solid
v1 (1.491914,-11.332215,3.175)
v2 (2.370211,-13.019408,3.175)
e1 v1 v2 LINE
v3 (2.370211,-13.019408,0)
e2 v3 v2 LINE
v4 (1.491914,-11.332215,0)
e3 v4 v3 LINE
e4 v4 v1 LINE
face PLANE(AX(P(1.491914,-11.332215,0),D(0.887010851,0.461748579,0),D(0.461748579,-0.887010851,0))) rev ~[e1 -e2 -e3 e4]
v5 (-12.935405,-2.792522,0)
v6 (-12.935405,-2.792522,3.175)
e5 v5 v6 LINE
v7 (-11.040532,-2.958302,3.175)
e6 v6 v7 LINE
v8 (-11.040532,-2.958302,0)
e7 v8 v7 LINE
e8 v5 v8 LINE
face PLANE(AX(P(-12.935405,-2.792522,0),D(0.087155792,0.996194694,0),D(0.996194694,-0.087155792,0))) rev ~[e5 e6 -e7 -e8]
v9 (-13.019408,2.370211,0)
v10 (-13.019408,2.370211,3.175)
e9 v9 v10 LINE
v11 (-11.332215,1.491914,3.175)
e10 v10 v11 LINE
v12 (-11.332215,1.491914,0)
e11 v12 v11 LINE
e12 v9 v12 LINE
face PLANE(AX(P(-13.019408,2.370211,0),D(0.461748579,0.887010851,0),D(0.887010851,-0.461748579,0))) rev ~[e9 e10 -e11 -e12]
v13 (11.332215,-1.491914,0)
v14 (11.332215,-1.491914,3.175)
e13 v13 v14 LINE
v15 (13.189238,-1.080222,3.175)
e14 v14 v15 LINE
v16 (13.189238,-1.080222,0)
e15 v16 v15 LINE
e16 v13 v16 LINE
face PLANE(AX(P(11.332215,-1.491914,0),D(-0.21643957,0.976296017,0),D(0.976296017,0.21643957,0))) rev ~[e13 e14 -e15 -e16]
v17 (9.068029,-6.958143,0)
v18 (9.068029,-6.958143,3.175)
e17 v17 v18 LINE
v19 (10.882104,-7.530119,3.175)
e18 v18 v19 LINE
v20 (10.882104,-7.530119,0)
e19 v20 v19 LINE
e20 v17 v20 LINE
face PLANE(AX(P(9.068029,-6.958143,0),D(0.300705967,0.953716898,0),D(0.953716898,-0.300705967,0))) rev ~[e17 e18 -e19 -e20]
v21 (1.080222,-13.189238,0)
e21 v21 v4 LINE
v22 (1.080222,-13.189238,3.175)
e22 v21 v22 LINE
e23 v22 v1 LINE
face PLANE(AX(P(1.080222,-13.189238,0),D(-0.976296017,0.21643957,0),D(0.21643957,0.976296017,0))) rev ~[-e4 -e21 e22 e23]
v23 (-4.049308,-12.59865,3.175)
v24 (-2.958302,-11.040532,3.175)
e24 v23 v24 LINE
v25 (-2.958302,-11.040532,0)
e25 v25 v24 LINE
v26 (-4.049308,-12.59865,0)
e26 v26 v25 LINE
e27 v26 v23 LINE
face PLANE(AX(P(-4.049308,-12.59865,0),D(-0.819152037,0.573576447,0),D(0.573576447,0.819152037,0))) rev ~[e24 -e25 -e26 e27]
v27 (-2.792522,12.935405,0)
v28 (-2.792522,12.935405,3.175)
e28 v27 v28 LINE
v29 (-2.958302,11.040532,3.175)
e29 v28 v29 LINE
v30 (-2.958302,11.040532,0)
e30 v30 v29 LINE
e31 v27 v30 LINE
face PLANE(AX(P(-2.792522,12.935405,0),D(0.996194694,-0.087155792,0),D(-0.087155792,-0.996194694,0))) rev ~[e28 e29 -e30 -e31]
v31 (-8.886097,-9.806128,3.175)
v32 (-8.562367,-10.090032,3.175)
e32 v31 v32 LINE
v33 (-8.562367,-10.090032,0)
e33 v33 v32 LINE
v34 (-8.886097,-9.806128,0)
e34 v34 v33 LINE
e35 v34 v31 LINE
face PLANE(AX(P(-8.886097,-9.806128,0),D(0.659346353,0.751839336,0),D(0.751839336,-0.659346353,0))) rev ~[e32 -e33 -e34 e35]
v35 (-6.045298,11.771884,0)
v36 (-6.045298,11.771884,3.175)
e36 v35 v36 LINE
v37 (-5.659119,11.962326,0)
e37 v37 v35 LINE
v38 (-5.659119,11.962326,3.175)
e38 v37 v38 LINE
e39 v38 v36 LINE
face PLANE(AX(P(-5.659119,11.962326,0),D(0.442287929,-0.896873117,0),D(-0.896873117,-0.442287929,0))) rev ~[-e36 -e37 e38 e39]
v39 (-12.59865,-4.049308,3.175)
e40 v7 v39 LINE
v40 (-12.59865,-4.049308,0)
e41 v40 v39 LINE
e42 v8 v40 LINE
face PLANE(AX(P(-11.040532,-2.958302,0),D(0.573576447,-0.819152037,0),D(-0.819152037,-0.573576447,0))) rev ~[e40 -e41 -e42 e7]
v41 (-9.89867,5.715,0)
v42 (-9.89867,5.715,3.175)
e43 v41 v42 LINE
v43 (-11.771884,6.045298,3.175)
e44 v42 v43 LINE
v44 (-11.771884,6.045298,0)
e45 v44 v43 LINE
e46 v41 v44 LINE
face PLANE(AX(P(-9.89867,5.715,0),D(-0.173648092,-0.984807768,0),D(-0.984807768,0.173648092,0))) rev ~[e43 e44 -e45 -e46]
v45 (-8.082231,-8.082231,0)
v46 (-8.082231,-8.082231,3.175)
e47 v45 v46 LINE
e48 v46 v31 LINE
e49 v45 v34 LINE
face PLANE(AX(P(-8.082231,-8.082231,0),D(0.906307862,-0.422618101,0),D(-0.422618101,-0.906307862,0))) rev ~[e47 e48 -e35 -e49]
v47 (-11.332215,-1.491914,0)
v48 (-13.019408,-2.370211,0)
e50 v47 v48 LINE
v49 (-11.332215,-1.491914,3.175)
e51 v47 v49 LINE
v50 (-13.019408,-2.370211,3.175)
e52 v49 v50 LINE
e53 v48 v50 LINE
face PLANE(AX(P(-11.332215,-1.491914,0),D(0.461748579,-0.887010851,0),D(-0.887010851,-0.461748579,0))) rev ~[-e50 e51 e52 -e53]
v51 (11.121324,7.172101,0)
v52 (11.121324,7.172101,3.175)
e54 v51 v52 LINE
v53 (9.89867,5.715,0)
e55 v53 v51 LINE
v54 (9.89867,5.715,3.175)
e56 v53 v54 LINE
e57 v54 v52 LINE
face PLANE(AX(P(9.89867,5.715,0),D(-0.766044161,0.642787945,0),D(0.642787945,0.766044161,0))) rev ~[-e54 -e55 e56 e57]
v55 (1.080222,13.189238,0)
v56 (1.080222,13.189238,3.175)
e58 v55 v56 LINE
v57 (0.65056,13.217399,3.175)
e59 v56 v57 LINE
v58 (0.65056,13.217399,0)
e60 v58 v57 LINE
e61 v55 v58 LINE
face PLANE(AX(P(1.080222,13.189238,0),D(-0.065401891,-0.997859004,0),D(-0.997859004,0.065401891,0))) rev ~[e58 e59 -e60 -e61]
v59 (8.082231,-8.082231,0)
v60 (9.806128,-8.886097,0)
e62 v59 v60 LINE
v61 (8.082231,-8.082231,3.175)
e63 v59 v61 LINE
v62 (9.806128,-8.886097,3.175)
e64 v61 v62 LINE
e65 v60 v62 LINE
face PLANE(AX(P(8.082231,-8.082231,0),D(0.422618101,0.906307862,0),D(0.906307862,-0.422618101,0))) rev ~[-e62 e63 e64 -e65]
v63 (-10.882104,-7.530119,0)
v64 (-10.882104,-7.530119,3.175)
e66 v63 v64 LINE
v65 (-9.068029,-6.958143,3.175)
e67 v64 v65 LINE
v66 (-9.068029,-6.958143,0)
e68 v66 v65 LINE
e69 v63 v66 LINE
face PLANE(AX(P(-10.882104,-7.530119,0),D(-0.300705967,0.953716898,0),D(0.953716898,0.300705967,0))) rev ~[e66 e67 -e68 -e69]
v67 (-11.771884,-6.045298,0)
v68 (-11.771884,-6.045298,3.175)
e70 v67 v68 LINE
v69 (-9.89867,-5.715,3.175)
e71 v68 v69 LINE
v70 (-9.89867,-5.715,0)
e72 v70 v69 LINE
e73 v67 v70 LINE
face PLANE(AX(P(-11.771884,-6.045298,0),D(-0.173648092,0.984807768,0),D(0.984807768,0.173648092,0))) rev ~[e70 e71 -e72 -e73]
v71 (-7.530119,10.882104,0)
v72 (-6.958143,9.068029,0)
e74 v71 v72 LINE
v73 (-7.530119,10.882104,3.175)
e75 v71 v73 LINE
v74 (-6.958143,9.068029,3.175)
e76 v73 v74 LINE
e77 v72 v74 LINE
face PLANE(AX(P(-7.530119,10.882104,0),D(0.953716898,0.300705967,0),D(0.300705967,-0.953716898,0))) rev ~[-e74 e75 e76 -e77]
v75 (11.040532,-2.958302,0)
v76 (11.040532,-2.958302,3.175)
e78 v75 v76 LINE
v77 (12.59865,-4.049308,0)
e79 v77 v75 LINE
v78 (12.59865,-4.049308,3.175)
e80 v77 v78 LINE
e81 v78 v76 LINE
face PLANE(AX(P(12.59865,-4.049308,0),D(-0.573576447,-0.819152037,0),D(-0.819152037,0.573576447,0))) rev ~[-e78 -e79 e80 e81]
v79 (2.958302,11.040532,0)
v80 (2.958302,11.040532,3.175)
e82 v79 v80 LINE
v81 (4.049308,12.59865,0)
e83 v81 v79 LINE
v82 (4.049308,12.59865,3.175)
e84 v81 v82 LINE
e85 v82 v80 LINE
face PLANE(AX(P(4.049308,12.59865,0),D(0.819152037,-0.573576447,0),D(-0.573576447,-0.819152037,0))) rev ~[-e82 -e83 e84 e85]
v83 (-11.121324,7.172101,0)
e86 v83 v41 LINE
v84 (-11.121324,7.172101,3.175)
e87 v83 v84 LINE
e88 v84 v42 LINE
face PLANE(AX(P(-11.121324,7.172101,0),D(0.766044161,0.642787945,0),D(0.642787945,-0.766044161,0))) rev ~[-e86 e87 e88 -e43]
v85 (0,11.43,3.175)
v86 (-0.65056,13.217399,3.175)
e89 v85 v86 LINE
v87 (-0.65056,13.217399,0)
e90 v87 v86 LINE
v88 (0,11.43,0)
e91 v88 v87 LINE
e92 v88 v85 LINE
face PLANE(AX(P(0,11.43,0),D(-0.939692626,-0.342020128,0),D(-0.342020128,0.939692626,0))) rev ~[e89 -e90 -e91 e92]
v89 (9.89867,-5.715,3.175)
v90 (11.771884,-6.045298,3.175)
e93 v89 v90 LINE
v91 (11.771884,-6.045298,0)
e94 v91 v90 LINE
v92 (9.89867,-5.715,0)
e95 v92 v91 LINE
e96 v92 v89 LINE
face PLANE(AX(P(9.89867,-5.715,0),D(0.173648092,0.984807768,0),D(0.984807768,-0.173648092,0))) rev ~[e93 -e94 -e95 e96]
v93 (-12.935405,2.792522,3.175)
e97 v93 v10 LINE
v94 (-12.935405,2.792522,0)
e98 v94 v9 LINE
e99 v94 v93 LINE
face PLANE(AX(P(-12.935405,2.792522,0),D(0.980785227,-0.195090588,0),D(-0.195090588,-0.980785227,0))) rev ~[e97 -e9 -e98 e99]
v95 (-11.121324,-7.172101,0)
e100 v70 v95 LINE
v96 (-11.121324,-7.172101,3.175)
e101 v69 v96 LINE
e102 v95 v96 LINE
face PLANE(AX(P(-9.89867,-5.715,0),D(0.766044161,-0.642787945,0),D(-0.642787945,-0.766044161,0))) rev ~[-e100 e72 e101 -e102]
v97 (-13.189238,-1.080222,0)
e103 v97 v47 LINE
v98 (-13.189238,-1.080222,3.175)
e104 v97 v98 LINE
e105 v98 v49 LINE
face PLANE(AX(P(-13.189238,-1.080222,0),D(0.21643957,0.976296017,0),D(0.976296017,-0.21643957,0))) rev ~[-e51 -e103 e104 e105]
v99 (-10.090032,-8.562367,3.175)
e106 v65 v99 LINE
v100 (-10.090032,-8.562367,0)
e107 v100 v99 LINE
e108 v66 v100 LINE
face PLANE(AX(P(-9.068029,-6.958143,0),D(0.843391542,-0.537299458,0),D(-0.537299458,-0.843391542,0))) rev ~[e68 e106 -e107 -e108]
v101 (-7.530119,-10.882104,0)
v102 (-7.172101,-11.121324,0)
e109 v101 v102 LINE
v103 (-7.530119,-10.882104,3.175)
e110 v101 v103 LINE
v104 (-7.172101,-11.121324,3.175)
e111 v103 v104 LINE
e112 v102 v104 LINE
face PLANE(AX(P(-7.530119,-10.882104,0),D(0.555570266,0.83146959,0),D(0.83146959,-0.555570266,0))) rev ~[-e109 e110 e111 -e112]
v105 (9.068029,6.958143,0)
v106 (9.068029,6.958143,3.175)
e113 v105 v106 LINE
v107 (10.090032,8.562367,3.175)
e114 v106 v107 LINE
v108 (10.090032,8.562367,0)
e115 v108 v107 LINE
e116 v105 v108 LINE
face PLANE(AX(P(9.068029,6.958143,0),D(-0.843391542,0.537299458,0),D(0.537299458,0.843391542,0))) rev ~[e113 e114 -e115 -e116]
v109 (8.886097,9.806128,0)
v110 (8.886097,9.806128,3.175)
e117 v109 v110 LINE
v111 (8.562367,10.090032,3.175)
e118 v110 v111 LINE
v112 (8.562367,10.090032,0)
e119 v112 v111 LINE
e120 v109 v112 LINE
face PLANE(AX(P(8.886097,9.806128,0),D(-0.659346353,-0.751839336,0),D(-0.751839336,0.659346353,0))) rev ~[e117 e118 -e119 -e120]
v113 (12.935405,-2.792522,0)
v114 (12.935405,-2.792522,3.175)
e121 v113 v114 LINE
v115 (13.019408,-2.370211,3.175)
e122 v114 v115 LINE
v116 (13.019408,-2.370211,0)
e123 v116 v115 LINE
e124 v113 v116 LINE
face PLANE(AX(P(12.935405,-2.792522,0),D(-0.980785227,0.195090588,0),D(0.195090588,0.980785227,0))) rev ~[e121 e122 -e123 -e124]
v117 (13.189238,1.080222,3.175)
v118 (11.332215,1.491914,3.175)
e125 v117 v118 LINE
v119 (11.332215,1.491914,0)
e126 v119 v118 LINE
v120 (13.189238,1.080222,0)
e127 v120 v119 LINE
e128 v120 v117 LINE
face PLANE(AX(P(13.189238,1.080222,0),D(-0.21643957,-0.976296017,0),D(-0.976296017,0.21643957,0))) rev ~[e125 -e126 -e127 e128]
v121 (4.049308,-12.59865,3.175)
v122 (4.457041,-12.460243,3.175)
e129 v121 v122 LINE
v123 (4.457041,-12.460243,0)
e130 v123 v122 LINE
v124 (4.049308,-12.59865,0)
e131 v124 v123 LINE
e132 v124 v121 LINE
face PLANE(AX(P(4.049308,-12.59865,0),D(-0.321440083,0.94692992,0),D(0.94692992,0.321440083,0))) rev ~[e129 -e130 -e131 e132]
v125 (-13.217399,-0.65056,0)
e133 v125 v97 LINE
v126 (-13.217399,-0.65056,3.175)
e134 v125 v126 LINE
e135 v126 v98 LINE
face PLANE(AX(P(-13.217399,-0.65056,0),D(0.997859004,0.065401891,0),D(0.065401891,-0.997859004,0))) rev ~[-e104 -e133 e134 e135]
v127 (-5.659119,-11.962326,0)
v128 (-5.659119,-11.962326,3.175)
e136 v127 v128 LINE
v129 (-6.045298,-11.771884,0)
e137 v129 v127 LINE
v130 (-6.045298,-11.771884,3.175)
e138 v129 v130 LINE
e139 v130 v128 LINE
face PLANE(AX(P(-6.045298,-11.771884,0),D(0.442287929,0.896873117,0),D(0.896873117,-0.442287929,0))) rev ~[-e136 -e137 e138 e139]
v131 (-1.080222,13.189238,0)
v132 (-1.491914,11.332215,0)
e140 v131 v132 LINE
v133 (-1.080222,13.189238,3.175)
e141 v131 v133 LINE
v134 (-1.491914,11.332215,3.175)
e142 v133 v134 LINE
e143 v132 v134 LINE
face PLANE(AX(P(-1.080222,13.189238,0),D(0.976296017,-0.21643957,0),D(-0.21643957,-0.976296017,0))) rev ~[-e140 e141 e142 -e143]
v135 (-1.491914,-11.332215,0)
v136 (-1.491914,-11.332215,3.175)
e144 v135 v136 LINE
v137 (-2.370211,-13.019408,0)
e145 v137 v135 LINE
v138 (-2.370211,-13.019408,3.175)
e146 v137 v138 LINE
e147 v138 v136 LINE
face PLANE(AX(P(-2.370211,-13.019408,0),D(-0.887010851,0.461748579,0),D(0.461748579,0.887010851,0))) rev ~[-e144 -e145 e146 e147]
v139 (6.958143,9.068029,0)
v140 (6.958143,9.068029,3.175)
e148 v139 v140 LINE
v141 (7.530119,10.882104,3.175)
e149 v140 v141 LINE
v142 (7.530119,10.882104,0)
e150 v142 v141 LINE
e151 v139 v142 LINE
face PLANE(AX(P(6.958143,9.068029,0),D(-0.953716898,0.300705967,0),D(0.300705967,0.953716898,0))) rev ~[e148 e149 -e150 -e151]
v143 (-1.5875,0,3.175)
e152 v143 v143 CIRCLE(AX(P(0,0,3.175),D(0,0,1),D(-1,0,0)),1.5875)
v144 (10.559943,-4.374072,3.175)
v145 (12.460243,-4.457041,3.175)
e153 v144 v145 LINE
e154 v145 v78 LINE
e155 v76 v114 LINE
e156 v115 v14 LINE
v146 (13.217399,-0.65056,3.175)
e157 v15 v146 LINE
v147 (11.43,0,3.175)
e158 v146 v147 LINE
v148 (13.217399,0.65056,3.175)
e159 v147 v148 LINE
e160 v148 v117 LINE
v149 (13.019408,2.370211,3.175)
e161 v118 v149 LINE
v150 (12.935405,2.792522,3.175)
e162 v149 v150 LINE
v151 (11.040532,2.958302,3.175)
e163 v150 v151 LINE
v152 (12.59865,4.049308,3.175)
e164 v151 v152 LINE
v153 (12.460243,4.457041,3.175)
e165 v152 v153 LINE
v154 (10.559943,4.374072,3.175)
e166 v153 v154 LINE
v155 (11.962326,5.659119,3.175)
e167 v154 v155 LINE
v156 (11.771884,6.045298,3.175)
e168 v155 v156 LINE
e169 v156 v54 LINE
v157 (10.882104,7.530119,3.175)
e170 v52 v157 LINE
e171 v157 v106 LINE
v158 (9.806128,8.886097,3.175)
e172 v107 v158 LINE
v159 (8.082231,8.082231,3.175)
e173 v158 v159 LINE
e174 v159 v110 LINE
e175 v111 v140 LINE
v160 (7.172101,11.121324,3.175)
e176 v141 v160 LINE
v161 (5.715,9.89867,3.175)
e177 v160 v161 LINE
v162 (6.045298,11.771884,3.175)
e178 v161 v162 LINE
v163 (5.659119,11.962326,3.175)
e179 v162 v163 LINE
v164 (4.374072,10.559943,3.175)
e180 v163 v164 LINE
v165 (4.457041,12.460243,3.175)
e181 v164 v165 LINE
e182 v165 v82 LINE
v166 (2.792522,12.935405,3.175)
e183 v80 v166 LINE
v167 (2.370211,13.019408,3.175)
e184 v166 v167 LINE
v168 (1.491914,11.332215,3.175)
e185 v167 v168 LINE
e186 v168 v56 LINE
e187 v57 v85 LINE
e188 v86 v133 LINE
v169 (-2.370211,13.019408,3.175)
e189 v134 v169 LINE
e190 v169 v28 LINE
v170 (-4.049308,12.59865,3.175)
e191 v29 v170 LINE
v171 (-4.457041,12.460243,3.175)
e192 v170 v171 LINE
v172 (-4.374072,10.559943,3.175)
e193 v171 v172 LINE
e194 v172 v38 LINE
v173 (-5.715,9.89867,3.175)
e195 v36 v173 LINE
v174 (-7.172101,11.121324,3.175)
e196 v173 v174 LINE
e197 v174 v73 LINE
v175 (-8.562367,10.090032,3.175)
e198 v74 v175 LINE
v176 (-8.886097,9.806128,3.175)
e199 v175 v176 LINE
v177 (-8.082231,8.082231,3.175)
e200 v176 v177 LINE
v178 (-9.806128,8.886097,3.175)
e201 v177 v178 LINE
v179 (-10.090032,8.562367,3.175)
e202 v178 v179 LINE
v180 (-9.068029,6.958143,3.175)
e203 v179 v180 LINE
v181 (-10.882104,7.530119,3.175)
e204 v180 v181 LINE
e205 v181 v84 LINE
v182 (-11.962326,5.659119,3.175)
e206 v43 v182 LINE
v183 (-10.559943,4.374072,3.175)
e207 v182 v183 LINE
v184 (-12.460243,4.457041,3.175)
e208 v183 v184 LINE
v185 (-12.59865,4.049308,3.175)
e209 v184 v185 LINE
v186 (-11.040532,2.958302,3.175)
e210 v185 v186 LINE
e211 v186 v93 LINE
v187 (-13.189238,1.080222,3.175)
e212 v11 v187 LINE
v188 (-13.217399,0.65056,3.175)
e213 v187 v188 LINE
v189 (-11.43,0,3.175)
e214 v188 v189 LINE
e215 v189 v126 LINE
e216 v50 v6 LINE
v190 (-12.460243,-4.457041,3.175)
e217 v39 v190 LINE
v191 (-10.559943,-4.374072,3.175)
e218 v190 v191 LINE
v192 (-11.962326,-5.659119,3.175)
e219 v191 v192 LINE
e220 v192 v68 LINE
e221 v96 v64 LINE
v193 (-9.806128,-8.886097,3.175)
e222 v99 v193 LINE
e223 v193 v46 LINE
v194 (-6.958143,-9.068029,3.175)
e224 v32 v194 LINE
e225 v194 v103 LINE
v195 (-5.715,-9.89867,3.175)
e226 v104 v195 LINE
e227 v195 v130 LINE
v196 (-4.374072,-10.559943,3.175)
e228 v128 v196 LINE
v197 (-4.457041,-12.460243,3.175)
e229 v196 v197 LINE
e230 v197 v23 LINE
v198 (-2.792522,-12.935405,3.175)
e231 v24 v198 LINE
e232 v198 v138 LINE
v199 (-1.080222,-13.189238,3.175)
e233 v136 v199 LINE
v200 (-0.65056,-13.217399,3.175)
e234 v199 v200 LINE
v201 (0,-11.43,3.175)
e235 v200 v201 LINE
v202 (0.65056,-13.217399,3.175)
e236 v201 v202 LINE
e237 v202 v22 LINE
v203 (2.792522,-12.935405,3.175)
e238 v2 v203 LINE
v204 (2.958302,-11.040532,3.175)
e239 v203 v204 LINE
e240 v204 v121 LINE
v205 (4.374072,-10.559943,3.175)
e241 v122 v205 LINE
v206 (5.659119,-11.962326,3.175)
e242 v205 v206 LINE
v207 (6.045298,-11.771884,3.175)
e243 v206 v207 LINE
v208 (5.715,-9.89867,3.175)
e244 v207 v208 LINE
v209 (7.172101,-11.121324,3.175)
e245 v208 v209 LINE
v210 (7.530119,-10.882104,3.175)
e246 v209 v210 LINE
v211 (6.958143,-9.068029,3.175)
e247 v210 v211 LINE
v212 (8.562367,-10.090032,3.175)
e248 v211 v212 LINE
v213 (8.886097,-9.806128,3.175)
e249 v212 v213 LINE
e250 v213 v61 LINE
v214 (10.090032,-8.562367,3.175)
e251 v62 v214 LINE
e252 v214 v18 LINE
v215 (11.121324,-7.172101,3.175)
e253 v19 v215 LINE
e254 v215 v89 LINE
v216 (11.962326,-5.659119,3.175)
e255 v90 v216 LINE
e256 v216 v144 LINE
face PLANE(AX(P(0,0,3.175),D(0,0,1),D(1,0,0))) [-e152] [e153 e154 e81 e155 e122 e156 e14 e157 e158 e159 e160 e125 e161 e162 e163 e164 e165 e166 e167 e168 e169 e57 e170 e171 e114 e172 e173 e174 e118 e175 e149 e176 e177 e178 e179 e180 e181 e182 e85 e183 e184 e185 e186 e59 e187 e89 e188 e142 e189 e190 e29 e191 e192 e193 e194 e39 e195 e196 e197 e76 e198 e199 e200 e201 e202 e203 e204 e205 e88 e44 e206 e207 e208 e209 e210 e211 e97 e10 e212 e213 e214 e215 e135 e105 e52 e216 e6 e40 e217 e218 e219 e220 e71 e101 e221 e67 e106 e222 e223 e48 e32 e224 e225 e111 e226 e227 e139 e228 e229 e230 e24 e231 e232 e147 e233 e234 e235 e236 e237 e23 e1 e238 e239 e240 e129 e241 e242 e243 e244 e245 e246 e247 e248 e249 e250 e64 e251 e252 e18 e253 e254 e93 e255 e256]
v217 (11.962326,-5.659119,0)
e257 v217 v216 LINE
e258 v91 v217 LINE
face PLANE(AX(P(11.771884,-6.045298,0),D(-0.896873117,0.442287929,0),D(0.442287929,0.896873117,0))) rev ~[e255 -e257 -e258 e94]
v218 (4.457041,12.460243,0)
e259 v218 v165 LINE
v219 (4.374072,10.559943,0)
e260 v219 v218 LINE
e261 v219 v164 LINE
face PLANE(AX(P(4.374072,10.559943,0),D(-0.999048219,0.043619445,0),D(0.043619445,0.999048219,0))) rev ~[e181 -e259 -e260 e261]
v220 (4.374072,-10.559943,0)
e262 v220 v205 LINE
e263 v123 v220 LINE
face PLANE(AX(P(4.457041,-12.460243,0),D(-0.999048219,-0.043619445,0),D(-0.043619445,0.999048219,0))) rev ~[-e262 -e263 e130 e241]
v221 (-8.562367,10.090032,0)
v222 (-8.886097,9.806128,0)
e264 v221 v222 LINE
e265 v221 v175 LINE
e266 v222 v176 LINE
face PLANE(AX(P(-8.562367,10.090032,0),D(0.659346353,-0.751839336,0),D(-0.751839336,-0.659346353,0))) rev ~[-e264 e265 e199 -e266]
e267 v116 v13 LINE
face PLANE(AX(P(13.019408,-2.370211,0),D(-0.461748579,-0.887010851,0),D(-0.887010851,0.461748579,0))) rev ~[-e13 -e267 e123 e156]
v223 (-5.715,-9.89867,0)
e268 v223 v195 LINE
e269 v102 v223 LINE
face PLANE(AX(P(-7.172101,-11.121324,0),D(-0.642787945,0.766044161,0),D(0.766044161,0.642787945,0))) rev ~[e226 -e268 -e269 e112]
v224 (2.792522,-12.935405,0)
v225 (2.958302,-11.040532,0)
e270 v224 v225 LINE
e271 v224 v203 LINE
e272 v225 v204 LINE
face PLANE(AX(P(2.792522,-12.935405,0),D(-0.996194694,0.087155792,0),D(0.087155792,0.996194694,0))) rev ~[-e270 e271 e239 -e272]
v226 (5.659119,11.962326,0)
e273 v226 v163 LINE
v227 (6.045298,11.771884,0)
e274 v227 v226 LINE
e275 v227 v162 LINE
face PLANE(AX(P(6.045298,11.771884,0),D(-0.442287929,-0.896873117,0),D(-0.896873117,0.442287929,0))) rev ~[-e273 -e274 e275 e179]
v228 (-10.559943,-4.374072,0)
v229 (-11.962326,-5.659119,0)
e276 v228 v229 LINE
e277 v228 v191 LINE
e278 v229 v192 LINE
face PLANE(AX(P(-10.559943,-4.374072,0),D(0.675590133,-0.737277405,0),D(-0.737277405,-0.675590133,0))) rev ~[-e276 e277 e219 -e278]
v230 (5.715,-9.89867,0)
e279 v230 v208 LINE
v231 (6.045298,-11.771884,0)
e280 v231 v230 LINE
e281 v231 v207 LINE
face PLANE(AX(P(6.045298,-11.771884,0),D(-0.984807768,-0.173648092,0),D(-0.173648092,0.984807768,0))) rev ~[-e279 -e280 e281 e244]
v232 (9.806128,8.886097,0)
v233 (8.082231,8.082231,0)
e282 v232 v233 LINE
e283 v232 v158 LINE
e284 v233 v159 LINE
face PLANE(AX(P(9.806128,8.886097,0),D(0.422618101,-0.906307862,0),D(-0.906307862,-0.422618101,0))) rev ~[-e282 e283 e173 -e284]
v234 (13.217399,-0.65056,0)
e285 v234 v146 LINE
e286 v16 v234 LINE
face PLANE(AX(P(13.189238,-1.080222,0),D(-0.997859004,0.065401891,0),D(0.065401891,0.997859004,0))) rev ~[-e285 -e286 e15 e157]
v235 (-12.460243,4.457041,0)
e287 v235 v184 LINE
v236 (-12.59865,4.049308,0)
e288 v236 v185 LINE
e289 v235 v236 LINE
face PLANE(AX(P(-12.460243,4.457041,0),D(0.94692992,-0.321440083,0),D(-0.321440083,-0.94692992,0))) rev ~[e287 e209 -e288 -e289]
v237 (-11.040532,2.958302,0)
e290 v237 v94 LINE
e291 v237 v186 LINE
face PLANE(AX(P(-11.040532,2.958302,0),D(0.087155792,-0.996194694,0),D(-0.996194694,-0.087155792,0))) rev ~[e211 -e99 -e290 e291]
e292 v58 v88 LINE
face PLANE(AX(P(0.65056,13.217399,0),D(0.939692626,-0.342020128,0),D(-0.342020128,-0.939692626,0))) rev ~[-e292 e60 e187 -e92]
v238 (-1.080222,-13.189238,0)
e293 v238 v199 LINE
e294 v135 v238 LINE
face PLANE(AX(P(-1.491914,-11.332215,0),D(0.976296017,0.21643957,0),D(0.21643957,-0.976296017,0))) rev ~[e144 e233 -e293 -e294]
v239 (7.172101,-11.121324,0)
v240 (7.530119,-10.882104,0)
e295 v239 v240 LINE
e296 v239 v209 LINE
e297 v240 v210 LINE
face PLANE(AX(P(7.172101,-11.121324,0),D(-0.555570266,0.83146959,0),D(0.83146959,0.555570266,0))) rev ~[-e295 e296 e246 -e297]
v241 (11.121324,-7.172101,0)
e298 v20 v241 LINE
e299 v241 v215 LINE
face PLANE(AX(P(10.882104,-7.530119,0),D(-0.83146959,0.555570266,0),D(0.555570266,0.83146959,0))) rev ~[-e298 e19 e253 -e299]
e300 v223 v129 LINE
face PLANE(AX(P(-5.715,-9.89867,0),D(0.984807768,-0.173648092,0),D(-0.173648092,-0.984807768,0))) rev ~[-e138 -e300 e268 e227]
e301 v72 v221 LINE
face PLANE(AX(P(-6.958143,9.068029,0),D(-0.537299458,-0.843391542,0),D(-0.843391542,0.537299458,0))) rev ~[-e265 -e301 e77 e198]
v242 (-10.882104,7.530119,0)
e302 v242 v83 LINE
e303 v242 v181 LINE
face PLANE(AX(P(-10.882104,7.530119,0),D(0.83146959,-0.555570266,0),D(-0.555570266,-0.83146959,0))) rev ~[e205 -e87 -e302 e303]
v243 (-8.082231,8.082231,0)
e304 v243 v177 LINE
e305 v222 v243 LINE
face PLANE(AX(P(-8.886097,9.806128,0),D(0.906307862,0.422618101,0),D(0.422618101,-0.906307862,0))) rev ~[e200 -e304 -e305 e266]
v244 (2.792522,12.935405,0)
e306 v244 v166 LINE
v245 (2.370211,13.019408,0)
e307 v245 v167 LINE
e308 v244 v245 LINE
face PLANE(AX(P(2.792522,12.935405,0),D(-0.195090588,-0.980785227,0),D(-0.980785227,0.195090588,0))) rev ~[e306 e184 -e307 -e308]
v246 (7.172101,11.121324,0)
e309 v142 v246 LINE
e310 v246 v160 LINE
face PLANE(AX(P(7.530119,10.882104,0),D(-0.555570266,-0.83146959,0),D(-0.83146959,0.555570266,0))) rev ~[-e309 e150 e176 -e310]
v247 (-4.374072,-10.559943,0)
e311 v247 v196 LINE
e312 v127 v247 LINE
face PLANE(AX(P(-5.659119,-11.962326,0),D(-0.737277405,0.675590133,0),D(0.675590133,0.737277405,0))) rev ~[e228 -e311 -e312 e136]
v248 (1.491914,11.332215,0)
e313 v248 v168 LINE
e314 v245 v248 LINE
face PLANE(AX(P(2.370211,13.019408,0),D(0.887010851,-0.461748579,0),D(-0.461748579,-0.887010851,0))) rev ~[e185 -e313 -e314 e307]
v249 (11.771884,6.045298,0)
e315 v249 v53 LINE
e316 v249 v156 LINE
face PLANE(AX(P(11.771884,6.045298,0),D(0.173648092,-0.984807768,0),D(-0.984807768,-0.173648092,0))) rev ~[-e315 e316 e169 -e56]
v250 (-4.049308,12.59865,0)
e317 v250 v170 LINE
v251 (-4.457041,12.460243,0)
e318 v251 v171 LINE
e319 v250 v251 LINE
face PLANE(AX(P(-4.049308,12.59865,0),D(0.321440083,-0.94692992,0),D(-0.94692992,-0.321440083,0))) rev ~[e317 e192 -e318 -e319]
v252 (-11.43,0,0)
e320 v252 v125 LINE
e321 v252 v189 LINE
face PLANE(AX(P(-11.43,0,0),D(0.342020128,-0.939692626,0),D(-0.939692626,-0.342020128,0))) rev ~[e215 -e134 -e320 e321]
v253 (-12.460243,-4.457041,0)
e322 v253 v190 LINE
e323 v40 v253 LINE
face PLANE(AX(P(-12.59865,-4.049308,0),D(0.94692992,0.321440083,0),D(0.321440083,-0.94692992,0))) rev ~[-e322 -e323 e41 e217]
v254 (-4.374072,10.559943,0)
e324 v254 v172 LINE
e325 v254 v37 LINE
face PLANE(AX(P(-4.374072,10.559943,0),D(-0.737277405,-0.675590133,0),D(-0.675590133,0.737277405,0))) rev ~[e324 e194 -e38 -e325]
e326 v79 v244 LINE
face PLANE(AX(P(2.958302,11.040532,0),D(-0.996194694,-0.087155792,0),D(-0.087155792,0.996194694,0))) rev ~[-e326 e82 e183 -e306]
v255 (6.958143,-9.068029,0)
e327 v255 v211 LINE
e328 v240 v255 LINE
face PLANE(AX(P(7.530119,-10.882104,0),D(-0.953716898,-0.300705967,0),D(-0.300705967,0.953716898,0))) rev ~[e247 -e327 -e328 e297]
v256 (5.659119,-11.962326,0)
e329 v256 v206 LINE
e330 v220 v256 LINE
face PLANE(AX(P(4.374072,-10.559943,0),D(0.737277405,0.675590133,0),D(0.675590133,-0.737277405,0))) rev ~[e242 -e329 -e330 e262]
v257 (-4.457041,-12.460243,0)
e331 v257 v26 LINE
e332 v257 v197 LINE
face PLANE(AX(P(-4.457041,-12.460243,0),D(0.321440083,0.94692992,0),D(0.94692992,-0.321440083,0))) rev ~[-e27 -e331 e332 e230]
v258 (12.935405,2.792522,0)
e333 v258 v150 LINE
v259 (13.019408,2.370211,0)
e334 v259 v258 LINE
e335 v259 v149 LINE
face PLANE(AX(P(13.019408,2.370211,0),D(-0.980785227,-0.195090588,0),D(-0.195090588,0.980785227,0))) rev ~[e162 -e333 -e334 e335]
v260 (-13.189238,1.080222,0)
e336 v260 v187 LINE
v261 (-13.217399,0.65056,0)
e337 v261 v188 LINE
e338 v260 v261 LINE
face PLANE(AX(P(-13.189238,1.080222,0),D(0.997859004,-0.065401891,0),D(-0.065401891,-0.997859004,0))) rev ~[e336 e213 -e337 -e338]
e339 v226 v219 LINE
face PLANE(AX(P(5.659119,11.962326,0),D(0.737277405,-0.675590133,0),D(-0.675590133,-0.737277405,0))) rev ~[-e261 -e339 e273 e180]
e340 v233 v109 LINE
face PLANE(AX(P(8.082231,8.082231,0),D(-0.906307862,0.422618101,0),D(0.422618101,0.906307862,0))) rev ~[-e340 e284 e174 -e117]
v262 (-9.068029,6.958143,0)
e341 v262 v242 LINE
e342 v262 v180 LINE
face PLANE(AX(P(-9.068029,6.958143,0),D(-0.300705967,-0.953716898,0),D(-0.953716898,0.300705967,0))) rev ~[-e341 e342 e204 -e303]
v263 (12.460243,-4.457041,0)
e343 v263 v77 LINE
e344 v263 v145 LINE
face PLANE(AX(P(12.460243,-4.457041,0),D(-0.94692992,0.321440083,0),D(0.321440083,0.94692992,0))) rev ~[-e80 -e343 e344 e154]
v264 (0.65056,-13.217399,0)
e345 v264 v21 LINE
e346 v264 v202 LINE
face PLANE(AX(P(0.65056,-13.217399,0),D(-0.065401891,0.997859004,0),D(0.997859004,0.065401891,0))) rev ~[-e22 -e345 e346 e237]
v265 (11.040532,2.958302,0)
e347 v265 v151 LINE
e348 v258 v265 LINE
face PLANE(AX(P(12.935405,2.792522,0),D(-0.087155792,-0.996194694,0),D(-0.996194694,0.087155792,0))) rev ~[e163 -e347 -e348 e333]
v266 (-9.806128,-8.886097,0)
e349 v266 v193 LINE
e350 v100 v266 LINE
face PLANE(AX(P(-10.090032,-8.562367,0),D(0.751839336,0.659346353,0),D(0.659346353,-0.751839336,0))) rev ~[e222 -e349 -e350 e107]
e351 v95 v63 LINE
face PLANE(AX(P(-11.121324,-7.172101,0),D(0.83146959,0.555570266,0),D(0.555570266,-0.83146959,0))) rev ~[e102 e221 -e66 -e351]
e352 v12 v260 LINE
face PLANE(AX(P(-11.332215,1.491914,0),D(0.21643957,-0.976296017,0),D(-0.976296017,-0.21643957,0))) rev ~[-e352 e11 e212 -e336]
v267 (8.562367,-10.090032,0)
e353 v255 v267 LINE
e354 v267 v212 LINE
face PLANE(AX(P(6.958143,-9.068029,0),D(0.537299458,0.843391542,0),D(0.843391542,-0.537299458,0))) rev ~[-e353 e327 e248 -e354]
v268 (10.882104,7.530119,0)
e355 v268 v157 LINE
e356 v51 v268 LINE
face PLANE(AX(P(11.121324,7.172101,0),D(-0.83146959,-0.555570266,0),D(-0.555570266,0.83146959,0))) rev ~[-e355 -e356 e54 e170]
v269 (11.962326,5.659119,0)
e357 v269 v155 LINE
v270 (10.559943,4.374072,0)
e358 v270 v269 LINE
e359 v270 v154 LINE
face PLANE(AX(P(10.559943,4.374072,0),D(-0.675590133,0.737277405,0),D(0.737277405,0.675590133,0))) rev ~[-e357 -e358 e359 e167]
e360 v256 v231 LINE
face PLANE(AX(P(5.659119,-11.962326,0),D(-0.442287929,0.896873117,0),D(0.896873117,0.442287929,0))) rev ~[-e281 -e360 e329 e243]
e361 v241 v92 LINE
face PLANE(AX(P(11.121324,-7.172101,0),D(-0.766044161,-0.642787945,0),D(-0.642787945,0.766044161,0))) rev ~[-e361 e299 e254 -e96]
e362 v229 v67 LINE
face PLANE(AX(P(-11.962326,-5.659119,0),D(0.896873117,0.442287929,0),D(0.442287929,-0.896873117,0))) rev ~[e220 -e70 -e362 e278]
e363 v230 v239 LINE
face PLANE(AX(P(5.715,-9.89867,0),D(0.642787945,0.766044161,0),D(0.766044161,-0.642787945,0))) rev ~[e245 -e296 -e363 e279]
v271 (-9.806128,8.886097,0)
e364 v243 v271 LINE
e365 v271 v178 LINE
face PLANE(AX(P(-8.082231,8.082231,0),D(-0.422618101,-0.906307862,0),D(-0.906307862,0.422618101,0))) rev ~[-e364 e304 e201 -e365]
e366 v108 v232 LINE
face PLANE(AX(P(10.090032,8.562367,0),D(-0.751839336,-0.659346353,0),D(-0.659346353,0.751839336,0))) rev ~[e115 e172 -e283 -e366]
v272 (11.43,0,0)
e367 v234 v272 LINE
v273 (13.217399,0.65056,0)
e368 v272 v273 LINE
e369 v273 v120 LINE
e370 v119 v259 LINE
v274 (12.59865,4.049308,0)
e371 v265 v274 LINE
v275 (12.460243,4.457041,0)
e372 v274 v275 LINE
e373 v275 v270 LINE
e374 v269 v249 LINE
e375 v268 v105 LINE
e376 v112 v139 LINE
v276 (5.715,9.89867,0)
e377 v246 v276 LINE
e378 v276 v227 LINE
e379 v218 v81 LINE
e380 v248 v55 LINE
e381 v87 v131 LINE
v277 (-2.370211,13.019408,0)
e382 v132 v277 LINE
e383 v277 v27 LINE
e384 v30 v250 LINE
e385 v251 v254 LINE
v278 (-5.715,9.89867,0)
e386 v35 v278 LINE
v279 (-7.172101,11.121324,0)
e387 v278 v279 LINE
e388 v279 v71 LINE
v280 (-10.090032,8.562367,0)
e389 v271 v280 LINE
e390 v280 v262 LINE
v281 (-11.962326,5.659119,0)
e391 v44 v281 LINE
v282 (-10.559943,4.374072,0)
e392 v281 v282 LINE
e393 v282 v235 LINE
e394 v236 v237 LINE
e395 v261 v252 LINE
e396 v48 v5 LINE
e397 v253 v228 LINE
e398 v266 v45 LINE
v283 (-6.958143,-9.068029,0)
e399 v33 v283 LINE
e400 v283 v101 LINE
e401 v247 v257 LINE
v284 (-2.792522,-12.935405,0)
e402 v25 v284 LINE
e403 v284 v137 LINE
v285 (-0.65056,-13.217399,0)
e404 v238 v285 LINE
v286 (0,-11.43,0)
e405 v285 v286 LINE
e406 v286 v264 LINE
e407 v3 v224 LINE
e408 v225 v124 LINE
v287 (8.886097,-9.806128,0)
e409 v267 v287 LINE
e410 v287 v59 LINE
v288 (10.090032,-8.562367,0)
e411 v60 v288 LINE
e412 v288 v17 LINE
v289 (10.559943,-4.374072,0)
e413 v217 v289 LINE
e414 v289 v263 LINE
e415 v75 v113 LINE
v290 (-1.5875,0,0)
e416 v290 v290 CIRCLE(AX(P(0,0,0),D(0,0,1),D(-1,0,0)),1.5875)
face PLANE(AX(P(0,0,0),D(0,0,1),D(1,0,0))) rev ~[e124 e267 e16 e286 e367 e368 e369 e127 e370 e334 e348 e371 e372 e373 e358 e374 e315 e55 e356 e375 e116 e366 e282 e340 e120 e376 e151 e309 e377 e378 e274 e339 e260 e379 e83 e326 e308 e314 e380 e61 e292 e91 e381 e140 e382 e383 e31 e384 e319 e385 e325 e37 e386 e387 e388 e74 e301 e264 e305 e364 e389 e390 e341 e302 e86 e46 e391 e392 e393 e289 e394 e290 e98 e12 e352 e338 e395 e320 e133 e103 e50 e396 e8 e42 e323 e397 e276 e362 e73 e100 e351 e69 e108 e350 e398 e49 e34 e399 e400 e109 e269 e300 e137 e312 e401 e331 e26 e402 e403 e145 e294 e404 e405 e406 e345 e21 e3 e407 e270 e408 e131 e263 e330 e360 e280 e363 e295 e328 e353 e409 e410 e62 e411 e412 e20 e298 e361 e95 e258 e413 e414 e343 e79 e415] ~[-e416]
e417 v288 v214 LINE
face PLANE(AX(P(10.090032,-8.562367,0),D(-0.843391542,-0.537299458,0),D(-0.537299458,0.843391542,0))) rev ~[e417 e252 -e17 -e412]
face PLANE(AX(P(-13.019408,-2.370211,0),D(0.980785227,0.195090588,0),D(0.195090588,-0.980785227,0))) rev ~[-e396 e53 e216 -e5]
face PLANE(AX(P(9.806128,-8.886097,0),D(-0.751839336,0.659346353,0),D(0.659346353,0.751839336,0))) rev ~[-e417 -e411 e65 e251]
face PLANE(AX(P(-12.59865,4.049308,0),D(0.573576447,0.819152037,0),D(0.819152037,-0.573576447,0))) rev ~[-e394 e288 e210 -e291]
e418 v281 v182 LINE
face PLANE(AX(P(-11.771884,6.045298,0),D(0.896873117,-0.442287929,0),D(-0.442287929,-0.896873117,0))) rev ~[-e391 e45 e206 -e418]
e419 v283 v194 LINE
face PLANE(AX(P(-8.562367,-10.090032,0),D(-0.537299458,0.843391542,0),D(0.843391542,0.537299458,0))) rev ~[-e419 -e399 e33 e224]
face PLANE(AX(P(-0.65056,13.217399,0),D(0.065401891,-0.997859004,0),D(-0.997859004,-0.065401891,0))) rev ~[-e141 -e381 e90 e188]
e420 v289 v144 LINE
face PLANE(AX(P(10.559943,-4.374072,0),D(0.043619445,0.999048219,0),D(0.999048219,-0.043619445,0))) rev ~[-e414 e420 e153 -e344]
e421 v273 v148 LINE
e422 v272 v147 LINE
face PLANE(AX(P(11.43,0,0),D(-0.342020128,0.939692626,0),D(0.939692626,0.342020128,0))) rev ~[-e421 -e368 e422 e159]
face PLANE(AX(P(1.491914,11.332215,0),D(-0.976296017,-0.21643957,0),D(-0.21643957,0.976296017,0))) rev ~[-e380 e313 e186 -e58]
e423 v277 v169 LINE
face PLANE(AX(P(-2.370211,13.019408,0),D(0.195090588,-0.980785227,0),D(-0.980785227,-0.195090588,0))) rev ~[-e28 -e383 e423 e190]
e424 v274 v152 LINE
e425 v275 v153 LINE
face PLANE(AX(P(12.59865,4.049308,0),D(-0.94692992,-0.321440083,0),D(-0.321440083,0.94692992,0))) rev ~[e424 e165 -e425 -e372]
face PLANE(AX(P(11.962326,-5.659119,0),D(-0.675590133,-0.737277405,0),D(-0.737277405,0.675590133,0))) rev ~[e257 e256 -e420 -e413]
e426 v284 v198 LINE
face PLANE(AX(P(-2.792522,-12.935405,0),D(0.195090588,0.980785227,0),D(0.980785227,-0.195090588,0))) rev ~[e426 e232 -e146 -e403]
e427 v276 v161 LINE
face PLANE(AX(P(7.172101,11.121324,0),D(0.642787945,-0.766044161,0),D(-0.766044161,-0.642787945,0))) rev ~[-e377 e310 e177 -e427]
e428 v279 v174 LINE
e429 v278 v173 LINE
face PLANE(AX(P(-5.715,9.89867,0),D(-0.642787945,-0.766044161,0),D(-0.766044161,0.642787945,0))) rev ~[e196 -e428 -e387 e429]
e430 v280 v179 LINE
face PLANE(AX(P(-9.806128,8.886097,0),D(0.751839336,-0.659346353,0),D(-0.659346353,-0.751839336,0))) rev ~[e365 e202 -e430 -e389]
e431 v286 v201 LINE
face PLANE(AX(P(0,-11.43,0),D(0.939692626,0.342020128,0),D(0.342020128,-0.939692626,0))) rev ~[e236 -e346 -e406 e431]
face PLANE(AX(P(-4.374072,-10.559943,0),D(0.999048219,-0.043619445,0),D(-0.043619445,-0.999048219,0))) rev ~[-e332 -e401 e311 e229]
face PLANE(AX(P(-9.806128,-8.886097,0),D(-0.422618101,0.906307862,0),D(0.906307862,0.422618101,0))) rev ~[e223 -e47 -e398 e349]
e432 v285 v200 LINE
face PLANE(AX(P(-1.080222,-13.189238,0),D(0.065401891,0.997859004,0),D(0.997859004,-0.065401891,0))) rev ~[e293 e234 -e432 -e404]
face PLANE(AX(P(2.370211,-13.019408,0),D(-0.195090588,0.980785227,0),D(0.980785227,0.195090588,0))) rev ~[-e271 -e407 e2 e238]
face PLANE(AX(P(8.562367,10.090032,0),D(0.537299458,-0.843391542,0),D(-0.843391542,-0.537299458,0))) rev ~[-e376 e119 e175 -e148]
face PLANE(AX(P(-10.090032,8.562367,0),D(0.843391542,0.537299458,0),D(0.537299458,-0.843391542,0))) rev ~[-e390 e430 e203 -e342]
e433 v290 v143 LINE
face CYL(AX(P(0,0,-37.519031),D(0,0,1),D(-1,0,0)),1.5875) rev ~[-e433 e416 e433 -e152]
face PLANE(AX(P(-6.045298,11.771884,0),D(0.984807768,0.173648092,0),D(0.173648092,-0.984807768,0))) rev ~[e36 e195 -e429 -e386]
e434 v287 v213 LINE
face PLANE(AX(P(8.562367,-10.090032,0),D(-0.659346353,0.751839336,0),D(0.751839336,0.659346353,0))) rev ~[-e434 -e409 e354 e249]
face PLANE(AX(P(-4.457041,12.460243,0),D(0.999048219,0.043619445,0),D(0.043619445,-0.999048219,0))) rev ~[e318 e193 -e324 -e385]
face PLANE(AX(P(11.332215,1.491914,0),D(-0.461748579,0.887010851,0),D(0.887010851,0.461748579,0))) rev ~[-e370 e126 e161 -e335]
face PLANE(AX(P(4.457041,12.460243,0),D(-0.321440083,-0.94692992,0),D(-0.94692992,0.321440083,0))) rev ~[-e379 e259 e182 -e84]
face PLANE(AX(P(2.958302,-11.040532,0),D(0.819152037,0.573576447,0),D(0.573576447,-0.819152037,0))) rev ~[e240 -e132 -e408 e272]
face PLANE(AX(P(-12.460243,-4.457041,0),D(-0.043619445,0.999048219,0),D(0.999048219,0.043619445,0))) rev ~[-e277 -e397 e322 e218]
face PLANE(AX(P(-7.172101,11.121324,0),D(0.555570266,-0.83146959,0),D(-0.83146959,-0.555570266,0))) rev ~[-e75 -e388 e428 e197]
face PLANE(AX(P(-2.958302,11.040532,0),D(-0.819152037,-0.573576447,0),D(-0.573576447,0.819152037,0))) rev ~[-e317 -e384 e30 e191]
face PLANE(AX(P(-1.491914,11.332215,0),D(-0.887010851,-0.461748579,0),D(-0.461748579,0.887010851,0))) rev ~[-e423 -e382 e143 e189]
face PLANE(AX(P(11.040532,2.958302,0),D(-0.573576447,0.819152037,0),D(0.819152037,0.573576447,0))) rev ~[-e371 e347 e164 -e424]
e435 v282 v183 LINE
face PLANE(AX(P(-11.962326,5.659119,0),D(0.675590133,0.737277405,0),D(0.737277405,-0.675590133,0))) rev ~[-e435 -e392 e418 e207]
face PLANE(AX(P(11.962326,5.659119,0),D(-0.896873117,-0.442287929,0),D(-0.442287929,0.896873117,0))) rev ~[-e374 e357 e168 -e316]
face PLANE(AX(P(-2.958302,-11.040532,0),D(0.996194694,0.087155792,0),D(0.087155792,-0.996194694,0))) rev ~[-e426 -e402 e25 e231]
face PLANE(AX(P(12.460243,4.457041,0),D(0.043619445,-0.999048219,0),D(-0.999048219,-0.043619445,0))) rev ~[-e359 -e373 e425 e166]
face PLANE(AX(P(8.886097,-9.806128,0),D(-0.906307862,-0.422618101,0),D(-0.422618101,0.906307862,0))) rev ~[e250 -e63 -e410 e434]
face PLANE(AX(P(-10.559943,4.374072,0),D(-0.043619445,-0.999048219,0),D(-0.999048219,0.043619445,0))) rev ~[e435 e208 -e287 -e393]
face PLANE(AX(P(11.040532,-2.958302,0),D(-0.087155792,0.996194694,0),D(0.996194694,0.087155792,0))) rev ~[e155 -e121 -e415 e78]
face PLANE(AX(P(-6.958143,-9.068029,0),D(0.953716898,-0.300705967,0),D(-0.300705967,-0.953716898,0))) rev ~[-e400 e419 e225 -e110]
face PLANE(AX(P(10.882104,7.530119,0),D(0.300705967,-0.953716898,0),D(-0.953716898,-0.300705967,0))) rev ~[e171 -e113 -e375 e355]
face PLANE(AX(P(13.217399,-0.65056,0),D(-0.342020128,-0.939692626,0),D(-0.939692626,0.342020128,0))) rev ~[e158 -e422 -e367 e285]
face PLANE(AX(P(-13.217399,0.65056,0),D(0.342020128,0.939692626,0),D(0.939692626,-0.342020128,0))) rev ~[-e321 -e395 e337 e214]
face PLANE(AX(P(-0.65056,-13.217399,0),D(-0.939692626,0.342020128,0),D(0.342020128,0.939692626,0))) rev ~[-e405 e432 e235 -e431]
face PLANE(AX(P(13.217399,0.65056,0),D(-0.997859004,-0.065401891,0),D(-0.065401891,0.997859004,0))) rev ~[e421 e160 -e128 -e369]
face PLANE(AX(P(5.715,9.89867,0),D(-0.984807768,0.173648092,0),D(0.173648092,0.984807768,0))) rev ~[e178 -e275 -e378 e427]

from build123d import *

# Parameters (mm, degrees)
F2_DEPTH = 3.175
F3_D     = 3.175


with BuildPart() as f2:
    # F1 (on Top) → F2 (new body)
    with BuildSketch(Plane.XY):
        Polygon((0.65056, 13.217399), (0, 11.43), (-0.65056, 13.217399), (-1.080222, 13.189238), (-1.491914, 11.332215), (-2.370211, 13.019408), (-2.792522, 12.935405), (-2.958302, 11.040532), (-4.049308, 12.59865), (-4.457041, 12.460243), (-4.374072, 10.559943), (-5.659119, 11.962326), (-6.045298, 11.771884), (-5.715, 9.89867), (-7.172101, 11.121324), (-7.530119, 10.882104), (-6.958143, 9.068029), (-8.562367, 10.090032), (-8.886097, 9.806128), (-8.082231, 8.082231), (-9.806128, 8.886097), (-10.090032, 8.562367), (-9.068029, 6.958143), (-10.882104, 7.530119), (-11.121324, 7.172101), (-9.89867, 5.715), (-11.771884, 6.045298), (-11.962326, 5.659119), (-10.559943, 4.374072), (-12.460243, 4.457041), (-12.59865, 4.049308), (-11.040532, 2.958302), (-12.935405, 2.792522), (-13.019408, 2.370211), (-11.332215, 1.491914), (-13.189238, 1.080222), (-13.217399, 0.65056), (-11.43, 0), (-13.217399, -0.65056), (-13.189238, -1.080222), (-11.332215, -1.491914), (-13.019408, -2.370211), (-12.935405, -2.792522), (-11.040532, -2.958302), (-12.59865, -4.049308), (-12.460243, -4.457041), (-10.559943, -4.374072), (-11.962326, -5.659119), (-11.771884, -6.045298), (-9.89867, -5.715), (-11.121324, -7.172101), (-10.882104, -7.530119), (-9.068029, -6.958143), (-10.090032, -8.562367), (-9.806128, -8.886097), (-8.082231, -8.082231), (-8.886097, -9.806128), (-8.562367, -10.090032), (-6.958143, -9.068029), (-7.530119, -10.882104), (-7.172101, -11.121324), (-5.715, -9.89867), (-6.045298, -11.771884), (-5.659119, -11.962326), (-4.374072, -10.559943), (-4.457041, -12.460243), (-4.049308, -12.59865), (-2.958302, -11.040532), (-2.792522, -12.935405), (-2.370211, -13.019408), (-1.491914, -11.332215), (-1.080222, -13.189238), (-0.65056, -13.217399), (0, -11.43), (0.65056, -13.217399), (1.080222, -13.189238), (1.491914, -11.332215), (2.370211, -13.019408), (2.792522, -12.935405), (2.958302, -11.040532), (4.049308, -12.59865), (4.457041, -12.460243), (4.374072, -10.559943), (5.659119, -11.962326), (6.045298, -11.771884), (5.715, -9.89867), (7.172101, -11.121324), (7.530119, -10.882104), (6.958143, -9.068029), (8.562367, -10.090032), (8.886097, -9.806128), (8.082231, -8.082231), (9.806128, -8.886097), (10.090032, -8.562367), (9.068029, -6.958143), (10.882104, -7.530119), (11.121324, -7.172101), (9.89867, -5.715), (11.771884, -6.045298), (11.962326, -5.659119), (10.559943, -4.374072), (12.460243, -4.457041), (12.59865, -4.049308), (11.040532, -2.958302), (12.935405, -2.792522), (13.019408, -2.370211), (11.332215, -1.491914), (13.189238, -1.080222), (13.217399, -0.65056), (11.43, 0), (13.217399, 0.65056), (13.189238, 1.080222), (11.332215, 1.491914), (13.019408, 2.370211), (12.935405, 2.792522), (11.040532, 2.958302), (12.59865, 4.049308), (12.460243, 4.457041), (10.559943, 4.374072), (11.962326, 5.659119), (11.771884, 6.045298), (9.89867, 5.715), (11.121324, 7.172101), (10.882104, 7.530119), (9.068029, 6.958143), (10.090032, 8.562367), (9.806128, 8.886097), (8.082231, 8.082231), (8.886097, 9.806128), (8.562367, 10.090032), (6.958143, 9.068029), (7.530119, 10.882104), (7.172101, 11.121324), (5.715, 9.89867), (6.045298, 11.771884), (5.659119, 11.962326), (4.374072, 10.559943), (4.457041, 12.460243), (4.049308, 12.59865), (2.958302, 11.040532), (2.792522, 12.935405), (2.370211, 13.019408), (1.491914, 11.332215), (1.080222, 13.189238), align=None)
    extrude(amount=F2_DEPTH)

    # F3 (through all)
    with Locations(Plane(origin=(0, 0, 0), x_dir=(1, 0, 0), z_dir=(0, 0, -1))):
        with Locations((0, 0)):
            Hole(F3_D / 2)


solid = f2.part
